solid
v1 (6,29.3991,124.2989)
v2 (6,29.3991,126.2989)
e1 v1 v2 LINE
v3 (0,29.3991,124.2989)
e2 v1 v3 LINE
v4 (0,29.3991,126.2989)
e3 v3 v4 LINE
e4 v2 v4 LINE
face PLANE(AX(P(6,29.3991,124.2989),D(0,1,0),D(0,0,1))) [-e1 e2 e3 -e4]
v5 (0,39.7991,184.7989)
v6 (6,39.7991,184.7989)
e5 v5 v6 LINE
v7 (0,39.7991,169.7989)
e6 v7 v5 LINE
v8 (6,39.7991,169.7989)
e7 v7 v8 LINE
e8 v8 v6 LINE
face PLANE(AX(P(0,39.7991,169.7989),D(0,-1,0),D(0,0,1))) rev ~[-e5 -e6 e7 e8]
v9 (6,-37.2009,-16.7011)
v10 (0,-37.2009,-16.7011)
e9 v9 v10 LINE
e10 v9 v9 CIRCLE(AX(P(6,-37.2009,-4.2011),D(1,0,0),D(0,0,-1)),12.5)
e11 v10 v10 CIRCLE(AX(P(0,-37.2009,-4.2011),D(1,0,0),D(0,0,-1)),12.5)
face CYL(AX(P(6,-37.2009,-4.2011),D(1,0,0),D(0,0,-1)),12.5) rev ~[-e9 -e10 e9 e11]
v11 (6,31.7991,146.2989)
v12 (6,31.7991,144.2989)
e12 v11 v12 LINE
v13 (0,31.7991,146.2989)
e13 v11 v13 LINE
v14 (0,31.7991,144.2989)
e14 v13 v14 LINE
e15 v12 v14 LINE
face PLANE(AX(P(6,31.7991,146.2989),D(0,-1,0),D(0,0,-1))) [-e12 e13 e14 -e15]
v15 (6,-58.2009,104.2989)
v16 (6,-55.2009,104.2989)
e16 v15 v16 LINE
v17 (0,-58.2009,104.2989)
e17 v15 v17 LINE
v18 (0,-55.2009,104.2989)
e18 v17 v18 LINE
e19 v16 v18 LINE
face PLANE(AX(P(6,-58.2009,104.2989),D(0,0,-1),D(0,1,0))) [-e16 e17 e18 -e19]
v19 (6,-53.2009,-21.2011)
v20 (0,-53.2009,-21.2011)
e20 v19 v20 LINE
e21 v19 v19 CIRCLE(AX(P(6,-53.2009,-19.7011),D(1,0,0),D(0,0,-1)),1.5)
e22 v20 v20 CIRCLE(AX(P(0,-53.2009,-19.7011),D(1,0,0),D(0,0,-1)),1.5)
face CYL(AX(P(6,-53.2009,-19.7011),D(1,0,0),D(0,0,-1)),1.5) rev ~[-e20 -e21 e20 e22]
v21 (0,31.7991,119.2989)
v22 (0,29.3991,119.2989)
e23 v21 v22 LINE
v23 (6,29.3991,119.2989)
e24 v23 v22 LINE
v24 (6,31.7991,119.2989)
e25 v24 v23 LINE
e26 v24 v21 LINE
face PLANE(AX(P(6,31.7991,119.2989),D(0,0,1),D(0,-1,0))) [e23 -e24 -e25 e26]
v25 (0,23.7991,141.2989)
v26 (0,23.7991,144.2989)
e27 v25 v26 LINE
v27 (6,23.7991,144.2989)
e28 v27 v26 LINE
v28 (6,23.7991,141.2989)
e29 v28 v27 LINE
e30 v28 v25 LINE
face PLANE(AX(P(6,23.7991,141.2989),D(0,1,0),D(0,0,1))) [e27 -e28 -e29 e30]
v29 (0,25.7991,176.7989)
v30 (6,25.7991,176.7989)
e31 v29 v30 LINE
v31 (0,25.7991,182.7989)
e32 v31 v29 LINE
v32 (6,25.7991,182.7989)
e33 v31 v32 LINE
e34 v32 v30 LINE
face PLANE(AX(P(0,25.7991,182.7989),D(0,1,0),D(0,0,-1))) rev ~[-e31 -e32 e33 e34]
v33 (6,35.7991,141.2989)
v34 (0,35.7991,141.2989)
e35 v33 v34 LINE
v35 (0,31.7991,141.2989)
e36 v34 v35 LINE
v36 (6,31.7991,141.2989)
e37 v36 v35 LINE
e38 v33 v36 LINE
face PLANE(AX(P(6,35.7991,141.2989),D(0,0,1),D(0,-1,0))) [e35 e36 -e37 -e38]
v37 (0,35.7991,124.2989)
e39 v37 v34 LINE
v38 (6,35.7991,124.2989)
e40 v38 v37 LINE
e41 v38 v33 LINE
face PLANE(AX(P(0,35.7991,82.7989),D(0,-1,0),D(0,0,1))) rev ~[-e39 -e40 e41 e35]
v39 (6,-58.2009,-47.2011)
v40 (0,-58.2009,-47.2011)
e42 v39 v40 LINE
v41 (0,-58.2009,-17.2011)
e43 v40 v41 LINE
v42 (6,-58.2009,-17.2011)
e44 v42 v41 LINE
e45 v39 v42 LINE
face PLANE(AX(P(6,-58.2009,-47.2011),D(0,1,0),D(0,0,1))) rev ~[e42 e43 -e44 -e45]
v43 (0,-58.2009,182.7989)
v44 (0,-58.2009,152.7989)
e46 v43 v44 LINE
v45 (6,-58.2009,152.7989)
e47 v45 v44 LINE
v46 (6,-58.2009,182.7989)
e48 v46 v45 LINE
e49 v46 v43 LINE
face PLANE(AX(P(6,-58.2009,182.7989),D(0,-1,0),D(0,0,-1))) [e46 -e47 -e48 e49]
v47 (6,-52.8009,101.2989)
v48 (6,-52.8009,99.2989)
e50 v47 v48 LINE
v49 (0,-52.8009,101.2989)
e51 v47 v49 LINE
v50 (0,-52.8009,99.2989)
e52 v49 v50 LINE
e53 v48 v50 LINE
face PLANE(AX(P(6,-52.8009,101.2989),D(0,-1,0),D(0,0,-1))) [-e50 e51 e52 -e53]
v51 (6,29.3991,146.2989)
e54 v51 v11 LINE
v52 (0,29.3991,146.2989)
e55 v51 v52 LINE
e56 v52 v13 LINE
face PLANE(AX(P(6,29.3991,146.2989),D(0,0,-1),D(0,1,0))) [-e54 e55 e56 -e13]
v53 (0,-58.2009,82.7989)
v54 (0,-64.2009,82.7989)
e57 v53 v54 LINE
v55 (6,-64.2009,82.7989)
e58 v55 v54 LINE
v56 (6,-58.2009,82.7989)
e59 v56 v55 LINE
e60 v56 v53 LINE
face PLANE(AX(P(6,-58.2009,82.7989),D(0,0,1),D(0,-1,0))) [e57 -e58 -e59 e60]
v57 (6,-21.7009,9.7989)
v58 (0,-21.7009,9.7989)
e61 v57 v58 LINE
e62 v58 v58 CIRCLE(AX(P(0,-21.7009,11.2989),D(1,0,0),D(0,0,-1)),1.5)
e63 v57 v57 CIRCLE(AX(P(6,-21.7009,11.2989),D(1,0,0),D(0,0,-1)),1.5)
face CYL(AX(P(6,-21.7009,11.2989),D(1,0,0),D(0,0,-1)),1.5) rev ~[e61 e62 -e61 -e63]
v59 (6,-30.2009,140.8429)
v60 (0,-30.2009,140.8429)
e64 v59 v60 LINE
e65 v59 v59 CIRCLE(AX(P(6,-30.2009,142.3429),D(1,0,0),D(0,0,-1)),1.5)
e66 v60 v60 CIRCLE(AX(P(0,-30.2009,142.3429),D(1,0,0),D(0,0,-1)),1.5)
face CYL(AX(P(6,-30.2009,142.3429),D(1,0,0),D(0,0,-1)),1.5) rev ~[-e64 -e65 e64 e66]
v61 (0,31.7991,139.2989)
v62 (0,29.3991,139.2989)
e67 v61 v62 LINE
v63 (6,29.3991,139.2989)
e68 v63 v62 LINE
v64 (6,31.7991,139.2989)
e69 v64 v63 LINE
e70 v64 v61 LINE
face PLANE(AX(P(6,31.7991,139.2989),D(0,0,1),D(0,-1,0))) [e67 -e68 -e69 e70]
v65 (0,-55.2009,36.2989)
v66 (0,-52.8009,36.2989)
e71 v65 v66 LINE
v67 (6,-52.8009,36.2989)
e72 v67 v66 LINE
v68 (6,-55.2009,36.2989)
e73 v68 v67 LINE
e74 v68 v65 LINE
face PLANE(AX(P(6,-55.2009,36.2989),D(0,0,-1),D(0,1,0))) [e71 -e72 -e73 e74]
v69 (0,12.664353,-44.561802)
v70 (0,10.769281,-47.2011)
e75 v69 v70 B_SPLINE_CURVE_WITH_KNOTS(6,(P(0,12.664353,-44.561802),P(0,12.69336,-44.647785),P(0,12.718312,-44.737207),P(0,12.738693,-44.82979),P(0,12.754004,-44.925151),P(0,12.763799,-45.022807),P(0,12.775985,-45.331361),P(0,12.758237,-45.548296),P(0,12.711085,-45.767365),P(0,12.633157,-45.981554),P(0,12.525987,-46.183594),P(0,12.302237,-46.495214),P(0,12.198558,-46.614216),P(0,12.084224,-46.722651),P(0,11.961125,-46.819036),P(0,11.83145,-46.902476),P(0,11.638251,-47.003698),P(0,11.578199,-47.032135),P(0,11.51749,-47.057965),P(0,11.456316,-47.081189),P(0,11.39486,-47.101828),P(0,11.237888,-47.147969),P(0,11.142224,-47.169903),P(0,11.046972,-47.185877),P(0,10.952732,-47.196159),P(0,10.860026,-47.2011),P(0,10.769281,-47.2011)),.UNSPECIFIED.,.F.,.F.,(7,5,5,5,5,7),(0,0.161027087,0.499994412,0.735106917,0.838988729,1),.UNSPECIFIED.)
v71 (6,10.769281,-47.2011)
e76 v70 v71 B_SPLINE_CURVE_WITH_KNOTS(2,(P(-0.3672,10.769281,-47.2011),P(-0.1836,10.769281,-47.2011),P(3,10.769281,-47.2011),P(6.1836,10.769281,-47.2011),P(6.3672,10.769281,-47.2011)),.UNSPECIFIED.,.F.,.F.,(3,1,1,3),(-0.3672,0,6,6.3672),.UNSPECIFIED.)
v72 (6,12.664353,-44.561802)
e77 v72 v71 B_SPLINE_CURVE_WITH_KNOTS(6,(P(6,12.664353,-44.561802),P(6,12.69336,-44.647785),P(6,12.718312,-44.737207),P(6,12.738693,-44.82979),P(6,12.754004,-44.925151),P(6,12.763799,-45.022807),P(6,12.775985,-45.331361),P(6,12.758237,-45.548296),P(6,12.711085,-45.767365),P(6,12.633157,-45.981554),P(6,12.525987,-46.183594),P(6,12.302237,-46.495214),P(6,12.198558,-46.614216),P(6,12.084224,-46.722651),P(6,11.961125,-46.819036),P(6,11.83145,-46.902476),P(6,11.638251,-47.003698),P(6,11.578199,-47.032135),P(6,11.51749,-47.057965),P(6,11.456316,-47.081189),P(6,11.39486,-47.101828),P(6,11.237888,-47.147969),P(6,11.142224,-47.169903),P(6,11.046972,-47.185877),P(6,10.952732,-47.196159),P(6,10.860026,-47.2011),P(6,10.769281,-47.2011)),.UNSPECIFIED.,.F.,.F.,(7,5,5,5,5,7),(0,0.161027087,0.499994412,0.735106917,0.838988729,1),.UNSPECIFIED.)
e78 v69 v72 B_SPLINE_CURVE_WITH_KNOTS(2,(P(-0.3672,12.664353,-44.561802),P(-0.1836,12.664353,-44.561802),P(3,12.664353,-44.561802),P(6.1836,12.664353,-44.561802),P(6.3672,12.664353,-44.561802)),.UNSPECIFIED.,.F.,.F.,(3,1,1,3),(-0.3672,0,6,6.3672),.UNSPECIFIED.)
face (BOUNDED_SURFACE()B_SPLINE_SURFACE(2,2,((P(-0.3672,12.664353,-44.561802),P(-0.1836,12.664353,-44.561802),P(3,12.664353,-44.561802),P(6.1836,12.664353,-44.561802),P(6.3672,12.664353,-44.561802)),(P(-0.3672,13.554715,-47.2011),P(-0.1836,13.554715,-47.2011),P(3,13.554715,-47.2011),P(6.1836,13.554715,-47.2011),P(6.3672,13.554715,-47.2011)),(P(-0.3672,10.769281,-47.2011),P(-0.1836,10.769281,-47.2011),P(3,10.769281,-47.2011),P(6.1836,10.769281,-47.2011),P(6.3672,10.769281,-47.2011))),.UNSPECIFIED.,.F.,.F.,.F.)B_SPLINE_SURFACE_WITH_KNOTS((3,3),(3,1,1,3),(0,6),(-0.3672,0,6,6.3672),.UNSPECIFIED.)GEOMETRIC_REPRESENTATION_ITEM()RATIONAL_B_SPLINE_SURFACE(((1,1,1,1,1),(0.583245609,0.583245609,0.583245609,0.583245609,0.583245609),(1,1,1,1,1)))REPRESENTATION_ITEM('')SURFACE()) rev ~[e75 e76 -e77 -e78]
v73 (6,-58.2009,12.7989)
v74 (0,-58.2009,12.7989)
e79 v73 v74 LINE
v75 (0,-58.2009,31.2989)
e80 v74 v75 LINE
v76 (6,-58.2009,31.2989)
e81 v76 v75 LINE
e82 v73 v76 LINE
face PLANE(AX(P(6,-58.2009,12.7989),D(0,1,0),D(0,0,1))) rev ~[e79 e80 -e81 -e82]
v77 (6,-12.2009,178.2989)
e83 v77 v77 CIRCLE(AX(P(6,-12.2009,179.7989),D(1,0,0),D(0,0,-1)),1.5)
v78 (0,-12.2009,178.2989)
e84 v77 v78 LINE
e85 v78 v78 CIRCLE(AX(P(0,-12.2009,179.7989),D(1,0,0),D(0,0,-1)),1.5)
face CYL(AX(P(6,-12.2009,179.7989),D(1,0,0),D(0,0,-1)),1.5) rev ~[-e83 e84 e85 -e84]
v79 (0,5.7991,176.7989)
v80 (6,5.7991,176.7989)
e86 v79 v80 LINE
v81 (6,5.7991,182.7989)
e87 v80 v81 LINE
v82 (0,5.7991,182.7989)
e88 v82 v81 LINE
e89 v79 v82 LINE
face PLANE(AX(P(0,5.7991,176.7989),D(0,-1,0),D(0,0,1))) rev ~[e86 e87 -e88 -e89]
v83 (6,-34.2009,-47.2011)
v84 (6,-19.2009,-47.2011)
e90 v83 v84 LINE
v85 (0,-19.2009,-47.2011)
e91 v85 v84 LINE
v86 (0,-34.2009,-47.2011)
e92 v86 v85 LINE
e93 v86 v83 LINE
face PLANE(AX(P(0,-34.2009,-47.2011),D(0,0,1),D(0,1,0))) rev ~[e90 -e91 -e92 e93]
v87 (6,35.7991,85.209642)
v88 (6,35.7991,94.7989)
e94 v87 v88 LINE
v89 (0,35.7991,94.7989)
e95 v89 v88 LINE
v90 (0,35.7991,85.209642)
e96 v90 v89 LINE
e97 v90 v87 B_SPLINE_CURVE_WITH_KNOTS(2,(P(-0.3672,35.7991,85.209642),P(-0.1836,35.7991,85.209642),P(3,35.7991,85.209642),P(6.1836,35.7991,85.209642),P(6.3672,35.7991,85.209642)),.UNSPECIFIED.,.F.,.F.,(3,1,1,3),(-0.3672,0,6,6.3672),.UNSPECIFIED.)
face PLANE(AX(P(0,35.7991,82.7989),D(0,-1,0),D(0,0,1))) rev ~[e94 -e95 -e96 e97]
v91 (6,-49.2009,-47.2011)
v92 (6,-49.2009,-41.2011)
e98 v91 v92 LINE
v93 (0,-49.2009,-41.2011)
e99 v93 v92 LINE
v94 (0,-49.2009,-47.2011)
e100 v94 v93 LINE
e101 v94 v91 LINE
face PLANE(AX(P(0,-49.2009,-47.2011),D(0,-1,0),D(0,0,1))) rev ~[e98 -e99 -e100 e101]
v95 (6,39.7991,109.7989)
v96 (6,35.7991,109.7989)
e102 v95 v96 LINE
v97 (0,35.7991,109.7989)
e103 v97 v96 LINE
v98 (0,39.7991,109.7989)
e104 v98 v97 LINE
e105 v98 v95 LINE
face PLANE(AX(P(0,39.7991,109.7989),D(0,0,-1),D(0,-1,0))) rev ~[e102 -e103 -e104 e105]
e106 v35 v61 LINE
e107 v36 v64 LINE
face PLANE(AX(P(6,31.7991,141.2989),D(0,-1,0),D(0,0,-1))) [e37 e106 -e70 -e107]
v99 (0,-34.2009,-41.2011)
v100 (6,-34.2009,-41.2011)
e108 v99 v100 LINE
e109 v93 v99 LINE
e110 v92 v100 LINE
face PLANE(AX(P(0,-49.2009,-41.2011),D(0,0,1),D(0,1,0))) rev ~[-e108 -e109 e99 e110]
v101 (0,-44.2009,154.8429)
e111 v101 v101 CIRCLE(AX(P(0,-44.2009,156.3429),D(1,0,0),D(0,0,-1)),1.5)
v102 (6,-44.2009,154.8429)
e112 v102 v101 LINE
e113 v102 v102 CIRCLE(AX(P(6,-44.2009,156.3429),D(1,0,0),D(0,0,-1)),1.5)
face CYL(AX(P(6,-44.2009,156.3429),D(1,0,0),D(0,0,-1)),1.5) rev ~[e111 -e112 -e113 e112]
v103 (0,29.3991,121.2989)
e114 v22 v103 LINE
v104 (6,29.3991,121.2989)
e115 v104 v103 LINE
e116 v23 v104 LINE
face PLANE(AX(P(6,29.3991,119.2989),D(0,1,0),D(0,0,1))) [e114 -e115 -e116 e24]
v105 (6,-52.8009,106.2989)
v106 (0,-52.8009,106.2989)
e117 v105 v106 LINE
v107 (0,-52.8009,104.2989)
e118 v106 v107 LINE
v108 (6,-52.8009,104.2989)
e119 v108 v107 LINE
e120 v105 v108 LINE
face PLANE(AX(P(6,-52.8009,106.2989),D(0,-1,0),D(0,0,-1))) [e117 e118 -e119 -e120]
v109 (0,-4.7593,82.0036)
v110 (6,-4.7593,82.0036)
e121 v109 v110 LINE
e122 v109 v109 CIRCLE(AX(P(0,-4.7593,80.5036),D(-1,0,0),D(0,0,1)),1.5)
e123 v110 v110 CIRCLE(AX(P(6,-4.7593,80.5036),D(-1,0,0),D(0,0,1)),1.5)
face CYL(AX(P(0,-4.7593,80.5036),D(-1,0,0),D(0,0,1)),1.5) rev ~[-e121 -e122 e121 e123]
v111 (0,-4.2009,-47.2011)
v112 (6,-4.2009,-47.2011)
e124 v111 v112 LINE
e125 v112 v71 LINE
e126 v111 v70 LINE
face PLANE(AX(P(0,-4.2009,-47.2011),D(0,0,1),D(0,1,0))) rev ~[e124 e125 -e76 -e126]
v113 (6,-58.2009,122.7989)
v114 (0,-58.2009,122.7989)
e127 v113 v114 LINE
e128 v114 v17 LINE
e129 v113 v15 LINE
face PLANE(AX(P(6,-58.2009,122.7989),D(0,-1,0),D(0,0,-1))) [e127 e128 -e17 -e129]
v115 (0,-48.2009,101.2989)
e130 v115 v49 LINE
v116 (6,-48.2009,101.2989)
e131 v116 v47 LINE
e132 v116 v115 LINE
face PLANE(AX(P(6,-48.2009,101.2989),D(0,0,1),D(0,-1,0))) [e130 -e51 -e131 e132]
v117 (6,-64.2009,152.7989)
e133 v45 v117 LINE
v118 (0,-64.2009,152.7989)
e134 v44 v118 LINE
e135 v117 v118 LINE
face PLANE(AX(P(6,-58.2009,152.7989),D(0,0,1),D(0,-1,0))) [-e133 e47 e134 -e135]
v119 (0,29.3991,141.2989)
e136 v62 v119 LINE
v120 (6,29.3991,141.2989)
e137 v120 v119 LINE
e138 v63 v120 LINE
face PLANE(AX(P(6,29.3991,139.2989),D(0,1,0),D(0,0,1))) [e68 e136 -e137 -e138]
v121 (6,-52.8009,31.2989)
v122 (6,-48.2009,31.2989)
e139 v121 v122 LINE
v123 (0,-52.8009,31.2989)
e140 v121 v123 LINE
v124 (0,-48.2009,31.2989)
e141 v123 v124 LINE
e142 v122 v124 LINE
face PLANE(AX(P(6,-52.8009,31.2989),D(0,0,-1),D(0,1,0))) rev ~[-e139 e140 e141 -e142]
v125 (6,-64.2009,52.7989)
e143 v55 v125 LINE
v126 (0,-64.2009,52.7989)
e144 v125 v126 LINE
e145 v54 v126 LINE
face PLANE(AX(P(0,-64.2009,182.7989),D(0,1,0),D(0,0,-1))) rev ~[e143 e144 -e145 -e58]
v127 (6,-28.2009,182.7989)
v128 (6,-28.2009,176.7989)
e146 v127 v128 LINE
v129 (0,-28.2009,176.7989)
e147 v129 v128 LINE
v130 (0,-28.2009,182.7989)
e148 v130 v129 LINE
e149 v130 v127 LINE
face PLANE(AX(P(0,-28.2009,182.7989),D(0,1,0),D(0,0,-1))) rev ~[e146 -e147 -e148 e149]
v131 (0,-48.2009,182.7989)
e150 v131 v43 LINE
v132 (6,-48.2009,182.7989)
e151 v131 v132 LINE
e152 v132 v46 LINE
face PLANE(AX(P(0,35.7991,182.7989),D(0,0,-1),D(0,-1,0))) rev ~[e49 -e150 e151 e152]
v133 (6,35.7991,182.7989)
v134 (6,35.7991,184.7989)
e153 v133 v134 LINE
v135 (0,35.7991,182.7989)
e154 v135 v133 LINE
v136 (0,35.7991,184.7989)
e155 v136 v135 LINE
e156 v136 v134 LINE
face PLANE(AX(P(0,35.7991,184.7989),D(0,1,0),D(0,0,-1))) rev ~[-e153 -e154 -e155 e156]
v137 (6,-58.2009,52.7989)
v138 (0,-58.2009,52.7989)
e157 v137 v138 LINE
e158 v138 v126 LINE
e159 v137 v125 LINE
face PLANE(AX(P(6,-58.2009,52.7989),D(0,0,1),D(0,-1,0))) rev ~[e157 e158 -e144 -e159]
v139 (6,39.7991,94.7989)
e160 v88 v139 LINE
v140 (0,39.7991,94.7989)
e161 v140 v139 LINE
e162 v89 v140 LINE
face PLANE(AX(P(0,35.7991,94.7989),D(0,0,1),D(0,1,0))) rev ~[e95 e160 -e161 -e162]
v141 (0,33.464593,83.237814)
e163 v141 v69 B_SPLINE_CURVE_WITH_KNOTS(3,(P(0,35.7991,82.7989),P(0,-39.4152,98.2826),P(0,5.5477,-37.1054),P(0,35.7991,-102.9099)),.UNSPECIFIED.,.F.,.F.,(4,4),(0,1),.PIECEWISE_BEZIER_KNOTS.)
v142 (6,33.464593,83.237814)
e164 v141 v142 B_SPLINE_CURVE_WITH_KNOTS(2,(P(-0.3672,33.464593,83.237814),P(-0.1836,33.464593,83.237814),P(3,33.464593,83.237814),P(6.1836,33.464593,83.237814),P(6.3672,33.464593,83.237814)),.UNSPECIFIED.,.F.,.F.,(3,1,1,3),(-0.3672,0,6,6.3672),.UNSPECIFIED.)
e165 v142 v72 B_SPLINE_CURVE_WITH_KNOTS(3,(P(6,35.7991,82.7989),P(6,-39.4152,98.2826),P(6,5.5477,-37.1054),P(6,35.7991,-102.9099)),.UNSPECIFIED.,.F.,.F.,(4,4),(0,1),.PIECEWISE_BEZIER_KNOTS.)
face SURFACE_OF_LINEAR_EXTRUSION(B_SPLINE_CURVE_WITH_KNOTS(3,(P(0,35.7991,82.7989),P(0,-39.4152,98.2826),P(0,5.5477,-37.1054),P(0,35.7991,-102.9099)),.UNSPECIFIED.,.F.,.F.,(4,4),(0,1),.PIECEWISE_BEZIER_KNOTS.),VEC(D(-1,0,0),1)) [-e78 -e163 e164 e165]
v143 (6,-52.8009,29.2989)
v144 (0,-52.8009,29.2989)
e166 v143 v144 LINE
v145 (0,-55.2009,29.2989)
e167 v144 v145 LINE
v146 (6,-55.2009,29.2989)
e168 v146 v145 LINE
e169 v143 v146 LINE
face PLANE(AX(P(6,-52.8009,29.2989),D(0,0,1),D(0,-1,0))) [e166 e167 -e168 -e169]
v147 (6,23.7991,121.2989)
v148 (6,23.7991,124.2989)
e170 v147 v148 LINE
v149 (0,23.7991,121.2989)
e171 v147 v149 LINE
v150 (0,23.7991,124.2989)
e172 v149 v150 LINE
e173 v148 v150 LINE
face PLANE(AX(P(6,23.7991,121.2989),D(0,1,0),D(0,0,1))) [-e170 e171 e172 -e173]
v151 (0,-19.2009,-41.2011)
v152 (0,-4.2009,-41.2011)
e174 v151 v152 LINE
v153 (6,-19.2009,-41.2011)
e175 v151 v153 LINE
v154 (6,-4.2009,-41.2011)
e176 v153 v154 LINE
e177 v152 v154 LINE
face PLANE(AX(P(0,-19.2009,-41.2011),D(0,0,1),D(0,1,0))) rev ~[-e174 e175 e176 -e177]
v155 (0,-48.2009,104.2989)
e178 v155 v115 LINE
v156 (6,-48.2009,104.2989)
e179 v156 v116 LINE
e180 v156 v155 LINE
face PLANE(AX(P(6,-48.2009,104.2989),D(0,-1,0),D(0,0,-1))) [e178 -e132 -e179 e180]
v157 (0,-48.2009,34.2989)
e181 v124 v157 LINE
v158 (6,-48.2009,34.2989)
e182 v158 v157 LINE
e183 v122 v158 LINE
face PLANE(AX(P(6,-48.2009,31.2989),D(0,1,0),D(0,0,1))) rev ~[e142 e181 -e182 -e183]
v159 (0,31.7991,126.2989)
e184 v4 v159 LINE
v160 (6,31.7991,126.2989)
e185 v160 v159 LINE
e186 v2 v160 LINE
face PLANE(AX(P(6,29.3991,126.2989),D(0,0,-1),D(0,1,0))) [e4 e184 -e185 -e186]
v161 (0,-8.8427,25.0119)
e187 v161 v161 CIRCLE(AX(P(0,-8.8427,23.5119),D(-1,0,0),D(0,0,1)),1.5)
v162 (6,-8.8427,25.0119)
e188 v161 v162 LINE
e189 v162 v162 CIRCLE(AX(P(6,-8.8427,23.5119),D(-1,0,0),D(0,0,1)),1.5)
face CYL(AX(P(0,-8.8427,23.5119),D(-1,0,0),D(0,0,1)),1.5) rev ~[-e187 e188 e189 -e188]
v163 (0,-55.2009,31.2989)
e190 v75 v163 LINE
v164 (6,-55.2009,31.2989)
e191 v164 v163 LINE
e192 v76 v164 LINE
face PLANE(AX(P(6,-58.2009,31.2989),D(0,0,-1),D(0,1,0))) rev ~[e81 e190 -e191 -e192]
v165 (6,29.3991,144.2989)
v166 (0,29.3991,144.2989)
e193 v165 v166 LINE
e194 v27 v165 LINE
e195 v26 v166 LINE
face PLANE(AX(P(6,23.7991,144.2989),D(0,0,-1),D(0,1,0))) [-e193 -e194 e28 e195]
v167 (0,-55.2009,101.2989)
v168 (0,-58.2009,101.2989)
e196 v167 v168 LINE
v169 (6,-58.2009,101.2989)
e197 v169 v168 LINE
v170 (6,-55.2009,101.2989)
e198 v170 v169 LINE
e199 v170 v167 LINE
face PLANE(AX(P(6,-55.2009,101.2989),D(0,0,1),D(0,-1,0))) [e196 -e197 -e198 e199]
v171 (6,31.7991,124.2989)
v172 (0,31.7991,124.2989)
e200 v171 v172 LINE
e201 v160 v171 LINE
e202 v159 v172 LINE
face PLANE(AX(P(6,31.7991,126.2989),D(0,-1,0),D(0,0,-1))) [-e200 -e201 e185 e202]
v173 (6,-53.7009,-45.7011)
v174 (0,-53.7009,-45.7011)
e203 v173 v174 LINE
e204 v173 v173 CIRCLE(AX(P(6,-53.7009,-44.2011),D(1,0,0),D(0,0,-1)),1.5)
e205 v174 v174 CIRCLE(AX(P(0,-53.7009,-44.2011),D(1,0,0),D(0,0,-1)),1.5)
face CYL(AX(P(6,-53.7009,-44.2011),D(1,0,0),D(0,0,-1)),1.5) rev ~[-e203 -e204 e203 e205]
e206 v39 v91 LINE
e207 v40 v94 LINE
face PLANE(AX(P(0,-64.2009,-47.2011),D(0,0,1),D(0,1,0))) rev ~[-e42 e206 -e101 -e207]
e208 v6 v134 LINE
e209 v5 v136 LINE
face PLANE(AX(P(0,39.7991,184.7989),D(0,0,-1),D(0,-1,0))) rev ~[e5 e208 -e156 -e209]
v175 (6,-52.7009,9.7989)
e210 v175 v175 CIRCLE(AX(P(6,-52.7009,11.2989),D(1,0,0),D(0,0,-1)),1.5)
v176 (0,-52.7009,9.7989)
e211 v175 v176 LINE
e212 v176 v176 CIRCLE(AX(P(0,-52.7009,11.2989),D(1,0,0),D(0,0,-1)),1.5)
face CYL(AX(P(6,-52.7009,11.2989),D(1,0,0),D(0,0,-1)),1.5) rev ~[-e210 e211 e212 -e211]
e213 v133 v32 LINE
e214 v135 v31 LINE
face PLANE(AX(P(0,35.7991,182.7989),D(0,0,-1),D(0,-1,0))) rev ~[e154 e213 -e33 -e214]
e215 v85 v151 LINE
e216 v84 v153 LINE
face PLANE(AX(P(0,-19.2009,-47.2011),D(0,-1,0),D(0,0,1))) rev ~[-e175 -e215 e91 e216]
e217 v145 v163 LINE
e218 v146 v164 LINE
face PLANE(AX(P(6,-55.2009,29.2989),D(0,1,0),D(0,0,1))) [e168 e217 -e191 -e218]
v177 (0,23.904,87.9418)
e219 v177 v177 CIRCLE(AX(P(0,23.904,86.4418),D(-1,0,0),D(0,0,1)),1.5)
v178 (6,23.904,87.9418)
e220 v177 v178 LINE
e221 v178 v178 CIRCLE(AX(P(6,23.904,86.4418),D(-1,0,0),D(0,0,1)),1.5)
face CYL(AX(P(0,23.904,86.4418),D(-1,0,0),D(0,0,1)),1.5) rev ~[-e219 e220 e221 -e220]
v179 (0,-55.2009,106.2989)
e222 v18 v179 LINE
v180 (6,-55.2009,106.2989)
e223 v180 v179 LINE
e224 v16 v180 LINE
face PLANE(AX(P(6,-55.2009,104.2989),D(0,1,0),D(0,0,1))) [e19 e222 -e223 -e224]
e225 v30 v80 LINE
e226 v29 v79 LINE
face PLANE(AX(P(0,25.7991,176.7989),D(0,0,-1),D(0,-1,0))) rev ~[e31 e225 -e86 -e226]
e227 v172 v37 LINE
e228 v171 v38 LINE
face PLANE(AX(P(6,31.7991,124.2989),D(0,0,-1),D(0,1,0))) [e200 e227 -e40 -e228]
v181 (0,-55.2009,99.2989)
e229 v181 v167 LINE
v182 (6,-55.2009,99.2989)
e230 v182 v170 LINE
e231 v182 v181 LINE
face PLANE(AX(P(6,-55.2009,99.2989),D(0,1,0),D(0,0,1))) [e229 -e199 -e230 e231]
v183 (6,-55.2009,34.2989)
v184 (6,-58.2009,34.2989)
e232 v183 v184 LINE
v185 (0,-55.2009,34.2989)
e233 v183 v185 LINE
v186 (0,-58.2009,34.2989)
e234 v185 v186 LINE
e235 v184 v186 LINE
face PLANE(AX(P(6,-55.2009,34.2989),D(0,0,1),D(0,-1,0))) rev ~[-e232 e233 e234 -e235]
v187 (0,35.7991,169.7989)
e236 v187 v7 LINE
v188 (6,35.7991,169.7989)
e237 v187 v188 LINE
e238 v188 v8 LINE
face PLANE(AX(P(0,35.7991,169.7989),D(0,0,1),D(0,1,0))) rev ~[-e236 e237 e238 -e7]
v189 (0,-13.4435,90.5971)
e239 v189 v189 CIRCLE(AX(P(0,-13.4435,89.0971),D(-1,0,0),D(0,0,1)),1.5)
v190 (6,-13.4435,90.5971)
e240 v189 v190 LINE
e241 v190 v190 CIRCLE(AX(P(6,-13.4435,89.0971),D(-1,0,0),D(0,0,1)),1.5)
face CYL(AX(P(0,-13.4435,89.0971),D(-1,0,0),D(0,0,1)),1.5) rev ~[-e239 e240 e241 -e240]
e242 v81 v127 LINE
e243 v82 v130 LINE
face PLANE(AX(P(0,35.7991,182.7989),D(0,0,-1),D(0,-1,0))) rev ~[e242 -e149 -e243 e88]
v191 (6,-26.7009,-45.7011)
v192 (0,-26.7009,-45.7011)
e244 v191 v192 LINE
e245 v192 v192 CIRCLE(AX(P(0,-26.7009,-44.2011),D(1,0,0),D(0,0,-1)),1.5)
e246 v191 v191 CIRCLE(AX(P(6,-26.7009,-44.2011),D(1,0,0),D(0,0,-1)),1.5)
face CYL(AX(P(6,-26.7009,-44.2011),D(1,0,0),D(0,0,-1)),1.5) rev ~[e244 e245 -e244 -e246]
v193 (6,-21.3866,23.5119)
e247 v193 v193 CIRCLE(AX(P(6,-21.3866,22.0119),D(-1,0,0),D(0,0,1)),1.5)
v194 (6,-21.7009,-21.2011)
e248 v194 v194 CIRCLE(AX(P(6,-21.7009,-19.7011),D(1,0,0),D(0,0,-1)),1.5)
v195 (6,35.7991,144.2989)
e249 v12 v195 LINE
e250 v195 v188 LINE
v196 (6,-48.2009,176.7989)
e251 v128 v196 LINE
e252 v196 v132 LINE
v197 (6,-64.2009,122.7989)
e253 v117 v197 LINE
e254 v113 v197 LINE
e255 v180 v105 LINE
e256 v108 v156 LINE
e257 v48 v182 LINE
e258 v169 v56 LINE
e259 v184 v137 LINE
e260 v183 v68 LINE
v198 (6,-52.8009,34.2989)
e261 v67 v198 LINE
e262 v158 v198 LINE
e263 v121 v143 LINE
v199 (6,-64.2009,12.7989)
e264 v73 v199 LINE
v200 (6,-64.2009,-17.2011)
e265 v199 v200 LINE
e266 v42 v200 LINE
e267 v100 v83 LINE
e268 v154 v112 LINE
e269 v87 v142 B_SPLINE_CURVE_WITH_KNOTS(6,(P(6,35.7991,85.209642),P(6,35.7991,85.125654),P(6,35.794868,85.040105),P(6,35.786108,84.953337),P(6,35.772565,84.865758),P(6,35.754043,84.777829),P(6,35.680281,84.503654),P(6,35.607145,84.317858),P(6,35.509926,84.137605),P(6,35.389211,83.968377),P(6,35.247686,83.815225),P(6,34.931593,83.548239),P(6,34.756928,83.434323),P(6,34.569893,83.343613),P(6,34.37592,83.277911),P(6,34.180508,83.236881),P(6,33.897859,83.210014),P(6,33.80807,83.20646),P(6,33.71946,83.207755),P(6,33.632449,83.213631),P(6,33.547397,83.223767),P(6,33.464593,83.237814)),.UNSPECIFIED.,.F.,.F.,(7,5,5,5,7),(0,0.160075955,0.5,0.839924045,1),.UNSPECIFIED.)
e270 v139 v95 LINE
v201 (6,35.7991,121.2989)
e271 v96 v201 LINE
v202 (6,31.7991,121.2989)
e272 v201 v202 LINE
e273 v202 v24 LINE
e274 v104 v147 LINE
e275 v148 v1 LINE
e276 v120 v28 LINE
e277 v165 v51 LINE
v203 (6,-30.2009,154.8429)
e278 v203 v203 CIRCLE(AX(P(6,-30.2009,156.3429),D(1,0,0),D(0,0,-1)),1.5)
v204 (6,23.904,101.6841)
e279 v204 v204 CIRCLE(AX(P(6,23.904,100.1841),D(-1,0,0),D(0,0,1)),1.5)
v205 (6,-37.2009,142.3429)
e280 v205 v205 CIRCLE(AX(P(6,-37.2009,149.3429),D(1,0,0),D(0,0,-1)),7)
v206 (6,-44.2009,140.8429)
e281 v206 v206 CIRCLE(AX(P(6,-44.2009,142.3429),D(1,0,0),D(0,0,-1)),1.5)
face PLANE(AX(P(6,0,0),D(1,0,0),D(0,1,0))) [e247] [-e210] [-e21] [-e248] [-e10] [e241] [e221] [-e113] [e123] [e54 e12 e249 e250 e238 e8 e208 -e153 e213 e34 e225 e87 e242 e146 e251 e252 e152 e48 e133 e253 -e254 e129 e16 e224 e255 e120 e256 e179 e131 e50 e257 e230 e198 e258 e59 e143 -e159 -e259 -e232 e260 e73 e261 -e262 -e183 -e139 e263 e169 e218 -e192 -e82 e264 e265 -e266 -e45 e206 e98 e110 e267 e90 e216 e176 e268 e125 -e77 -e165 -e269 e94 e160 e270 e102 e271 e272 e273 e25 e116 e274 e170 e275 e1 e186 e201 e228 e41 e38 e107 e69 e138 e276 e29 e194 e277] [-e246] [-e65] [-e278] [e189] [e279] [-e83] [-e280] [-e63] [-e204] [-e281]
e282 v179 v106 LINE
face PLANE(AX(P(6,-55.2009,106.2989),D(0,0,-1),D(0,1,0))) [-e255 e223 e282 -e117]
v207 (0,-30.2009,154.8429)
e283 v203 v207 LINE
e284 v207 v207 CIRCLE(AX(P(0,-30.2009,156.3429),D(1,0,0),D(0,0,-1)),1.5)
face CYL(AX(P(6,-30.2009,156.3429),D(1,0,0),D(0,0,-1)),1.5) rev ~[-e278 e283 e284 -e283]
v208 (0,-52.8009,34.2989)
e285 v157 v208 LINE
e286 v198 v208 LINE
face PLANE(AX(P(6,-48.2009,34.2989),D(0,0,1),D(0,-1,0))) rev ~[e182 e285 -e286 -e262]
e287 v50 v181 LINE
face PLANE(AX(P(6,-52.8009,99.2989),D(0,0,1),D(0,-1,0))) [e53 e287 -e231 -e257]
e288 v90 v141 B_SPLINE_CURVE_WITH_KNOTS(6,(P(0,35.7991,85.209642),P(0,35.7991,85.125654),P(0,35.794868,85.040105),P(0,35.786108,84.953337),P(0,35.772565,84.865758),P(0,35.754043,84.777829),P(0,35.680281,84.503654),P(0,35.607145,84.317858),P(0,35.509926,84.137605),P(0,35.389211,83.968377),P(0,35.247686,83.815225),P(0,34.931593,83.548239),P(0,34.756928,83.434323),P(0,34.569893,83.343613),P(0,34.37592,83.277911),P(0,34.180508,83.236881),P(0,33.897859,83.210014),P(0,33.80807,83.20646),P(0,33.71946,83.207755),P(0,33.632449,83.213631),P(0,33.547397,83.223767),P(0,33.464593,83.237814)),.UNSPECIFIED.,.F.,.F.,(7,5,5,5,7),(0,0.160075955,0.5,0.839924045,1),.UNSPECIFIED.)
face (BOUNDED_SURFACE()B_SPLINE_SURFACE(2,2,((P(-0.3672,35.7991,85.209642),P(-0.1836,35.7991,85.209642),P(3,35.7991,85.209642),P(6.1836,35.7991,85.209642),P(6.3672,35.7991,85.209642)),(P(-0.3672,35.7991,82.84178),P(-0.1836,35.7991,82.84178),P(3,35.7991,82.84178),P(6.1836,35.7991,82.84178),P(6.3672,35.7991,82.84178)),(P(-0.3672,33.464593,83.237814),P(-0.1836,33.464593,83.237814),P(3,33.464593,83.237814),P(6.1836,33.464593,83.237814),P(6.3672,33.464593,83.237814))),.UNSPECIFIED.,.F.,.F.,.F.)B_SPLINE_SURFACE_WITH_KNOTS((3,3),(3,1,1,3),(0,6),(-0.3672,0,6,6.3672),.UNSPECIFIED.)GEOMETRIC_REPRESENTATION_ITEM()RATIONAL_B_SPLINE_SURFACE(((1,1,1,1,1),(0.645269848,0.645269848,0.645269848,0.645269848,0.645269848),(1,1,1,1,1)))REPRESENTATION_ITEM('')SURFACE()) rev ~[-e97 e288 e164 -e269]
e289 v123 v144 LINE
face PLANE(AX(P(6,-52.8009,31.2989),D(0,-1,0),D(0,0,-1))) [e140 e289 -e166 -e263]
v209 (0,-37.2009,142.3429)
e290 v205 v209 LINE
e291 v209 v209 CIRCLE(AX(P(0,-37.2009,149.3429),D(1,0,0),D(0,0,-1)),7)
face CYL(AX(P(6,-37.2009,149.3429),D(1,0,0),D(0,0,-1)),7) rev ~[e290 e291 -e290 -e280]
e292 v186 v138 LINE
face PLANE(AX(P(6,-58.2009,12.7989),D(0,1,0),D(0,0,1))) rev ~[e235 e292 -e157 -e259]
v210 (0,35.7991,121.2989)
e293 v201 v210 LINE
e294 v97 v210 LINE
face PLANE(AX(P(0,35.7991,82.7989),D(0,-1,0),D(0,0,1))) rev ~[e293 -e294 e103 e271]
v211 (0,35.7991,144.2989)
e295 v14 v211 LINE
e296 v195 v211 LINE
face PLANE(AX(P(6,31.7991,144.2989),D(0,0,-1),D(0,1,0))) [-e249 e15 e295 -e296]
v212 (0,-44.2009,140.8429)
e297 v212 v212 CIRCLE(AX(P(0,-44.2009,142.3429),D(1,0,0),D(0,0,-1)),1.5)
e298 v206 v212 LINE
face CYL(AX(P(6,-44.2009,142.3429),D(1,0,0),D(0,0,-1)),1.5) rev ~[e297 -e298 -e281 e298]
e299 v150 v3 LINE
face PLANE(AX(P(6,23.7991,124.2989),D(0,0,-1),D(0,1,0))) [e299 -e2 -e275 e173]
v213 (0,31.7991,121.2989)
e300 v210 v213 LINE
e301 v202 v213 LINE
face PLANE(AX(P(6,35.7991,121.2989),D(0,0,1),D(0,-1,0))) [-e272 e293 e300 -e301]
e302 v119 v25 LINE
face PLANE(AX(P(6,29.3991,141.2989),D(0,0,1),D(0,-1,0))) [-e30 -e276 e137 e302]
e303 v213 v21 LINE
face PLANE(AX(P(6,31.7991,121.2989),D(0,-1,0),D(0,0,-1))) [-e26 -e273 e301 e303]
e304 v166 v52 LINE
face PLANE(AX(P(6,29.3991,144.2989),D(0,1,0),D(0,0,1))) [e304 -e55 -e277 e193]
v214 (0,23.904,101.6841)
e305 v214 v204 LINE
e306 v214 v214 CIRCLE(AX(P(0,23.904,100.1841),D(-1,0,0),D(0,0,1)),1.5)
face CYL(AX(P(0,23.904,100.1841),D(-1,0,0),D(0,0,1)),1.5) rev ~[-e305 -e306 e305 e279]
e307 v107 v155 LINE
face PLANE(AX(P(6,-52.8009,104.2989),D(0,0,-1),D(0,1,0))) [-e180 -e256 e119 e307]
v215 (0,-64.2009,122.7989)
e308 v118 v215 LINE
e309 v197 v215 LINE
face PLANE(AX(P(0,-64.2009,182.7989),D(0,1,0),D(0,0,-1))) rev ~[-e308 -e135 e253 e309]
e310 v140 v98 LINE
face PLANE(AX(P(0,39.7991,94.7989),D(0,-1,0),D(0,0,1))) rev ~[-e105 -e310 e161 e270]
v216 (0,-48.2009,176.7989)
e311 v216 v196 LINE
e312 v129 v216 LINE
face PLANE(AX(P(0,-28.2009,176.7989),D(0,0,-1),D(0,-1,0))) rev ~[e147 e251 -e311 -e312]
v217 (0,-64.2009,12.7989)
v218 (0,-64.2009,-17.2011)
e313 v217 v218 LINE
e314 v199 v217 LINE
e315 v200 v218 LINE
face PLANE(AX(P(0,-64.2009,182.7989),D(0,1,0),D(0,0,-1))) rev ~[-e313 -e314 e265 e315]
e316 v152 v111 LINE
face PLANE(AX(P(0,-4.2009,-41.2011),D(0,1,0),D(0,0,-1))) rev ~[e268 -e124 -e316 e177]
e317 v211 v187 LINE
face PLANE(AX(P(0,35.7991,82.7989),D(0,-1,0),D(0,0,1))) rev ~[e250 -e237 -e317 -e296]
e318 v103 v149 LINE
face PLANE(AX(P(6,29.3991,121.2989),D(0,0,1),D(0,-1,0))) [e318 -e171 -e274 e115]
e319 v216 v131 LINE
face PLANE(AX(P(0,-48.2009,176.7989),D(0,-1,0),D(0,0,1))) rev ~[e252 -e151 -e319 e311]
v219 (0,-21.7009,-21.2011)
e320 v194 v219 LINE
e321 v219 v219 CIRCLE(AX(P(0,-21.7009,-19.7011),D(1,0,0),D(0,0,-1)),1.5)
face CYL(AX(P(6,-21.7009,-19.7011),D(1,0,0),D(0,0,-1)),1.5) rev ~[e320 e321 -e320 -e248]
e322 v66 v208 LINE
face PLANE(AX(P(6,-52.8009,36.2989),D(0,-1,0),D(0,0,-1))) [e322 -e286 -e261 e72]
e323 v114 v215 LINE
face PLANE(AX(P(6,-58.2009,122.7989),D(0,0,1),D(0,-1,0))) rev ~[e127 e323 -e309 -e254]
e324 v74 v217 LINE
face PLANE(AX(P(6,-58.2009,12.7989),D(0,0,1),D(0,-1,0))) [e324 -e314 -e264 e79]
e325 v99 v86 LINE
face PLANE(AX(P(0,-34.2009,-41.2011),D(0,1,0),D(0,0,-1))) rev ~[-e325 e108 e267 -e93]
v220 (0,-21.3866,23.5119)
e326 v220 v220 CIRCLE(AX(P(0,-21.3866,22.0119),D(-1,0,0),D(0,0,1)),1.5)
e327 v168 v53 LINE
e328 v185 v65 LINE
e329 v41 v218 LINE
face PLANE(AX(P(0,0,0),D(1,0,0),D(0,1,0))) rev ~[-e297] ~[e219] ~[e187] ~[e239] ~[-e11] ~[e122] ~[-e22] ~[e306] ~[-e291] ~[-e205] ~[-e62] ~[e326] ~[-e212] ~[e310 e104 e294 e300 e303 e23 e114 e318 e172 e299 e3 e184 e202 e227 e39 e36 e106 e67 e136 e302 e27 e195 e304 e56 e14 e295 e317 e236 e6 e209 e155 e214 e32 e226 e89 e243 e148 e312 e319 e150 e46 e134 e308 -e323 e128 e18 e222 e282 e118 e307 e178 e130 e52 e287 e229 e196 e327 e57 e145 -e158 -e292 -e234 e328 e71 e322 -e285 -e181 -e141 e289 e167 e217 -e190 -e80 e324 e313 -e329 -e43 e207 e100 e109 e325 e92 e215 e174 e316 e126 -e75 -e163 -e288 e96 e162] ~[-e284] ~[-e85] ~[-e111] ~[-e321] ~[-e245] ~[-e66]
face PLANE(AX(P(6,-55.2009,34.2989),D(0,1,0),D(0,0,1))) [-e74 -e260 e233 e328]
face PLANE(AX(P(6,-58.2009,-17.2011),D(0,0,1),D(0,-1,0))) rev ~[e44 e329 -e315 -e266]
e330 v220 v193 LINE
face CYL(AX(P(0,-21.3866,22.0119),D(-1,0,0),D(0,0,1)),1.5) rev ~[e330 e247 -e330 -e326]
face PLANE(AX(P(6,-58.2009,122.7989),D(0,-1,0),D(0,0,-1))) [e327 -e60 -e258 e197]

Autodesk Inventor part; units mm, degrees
ref_plane "YZ Plane" through (0, 0, 0) normal (1, 0, 0) x (0, 1, 0)
ref_plane "XZ Plane" through (0, 0, 0) normal (0, 1, 0) x (-1, 0, 0)
ref_plane "XY Plane" through (0, 0, 0) normal (0, 0, 1) x (1, 0, 0)
sketch "Эскиз1" plane through (0, 0, 0) normal (1, 0, 0) x (0, 1, 0)
  line L0 (35.7991, 182.7989) -> (-64.2009, 182.7989)
  line L1 (-64.2009, 182.7989) -> (-64.2009, -47.2011)
  line L2 (-64.2009, -47.2011) -> (35.7991, -47.2011)
  line L3 (35.7991, -47.2011) -> (35.7991, 182.7989)
  spline S0 degree 3 poles (35.7991, 82.7989) (-39.4152, 98.2826) (5.5477, -37.1054) (35.7991, -102.9099) knots 0 0 0 0 1 1 1 1
  line L4 (-4.2009, -47.2011) -> (-19.2009, -47.2011)
  line L5 (-19.2009, -47.2011) -> (-19.2009, -41.2011)
  line L6 (-19.2009, -41.2011) -> (-4.2009, -41.2011)
  line L7 (-4.2009, -41.2011) -> (-4.2009, -47.2011)
  line L8 (-34.2009, -47.2011) -> (-49.2009, -47.2011)
  line L9 (-49.2009, -47.2011) -> (-49.2009, -41.2011)
  line L10 (-49.2009, -41.2011) -> (-34.2009, -41.2011)
  line L11 (-34.2009, -41.2011) -> (-34.2009, -47.2011)
  point P0 (0, 0)
  point P1 (0.0412, 70.0052)
  point P2 (13.562, -47.2011)
  point P3 (-4.2009, -44.2011)
  point P4 (-19.2009, -44.2011)
  point P5 (-34.2009, -44.2011)
  point P6 (-49.2009, -44.2011)
  dimension "d0" = 230
  dimension "d1" = 100
  dimension "d20" = 100
  dimension "d155" = 15
  dimension "d156" = 15
  dimension "d157" = 6
  dimension "d158" = 15
  dimension "d159" = 15
extrude "Выдавливание1" add sketch "Эскиз1" along normal blind 6 contours L3 S0 L2 L7 L6 L5 L11 L10 L9 L1 L0
sketch "Эскиз2" plane through (6, 0, 0) normal (1, 0, 0) x (0, 0, -1)
  line L0 (-182.7989, 35.7991) -> (-182.7989, -64.2009) projected
  line L1 (-182.7989, -64.2009) -> (47.2011, -64.2009) projected
  line L2 (-182.7989, -58.2009) -> (-152.7989, -58.2009)
  line L3 (-152.7989, -58.2009) -> (-152.7989, -64.2009)
  line L4 (-152.7989, -64.2009) -> (-182.7989, -64.2009)
  line L5 (-182.7989, -64.2009) -> (-182.7989, -58.2009)
  line L6 (-152.7989, -58.2009) -> (-122.7989, -58.2009)
  line L7 (-122.7989, -58.2009) -> (-122.7989, -64.2009)
  line L8 (-122.7989, -64.2009) -> (-152.7989, -64.2009)
  line L9 (-152.7989, -64.2009) -> (-152.7989, -58.2009)
  line L10 (-122.7989, -58.2009) -> (-82.7989, -58.2009)
  line L11 (-82.7989, -58.2009) -> (-82.7989, -64.2009)
  line L12 (-82.7989, -64.2009) -> (-122.7989, -64.2009)
  line L13 (-122.7989, -64.2009) -> (-122.7989, -58.2009)
  line L14 (47.2011, -64.2009) -> (47.2011, 13.562) projected
  line L15 (47.2011, -58.2009) -> (17.2011, -58.2009)
  line L16 (17.2011, -58.2009) -> (17.2011, -64.2009)
  line L17 (17.2011, -64.2009) -> (47.2011, -64.2009)
  line L18 (47.2011, -64.2009) -> (47.2011, -58.2009)
  line L19 (17.2011, -58.2009) -> (-12.7989, -58.2009)
  line L20 (-12.7989, -58.2009) -> (-12.7989, -64.2009)
  line L21 (-12.7989, -64.2009) -> (17.2011, -64.2009)
  line L22 (17.2011, -64.2009) -> (17.2011, -58.2009)
  line L23 (-12.7989, -58.2009) -> (-52.7989, -58.2009)
  line L24 (-52.7989, -58.2009) -> (-52.7989, -64.2009)
  line L25 (-52.7989, -64.2009) -> (-12.7989, -64.2009)
  line L26 (-12.7989, -64.2009) -> (-12.7989, -58.2009)
  line L27 (-52.7989, -58.2009) -> (-82.7989, -58.2009)
  line L28 (-82.7989, -58.2009) -> (-82.7989, -64.2009)
  line L29 (-82.7989, -64.2009) -> (-52.7989, -64.2009)
  line L30 (-52.7989, -64.2009) -> (-52.7989, -58.2009)
  point P0 (0, 0)
  point P1 (47.89, 35.7991)
  point P2 (-122.7989, -64.2009)
  point P3 (47.2011, 13.562)
  dimension "d4" = 30
  dimension "d5" = 30
  dimension "d6" = 40
  dimension "d7" = 30
  dimension "d8" = 30
  dimension "d9" = 40
  dimension "d12" = 6
  dimension "d13" = 6
extrude "Выдавливание2" cut sketch "Эскиз2" against normal through all contours L2 L3 L1 L0 | L10 L11 L1 L7 | L23 L20 L1 L24 | L15 L14 L1 L16
sketch "Эскиз3" plane through (0, 0, 0) normal (-1, 0, 0) x (0, 0, 1)
  line L0 (182.7989, -58.2009) -> (176.7989, -58.2009)
  line L1 (176.7989, -58.2009) -> (176.7989, -48.2009)
  line L2 (176.7989, -48.2009) -> (182.7989, -48.2009)
  line L3 (182.7989, -48.2009) -> (182.7989, -58.2009)
  line L4 (176.7989, -48.2009) -> (182.7989, -48.2009)
  line L5 (182.7989, -48.2009) -> (182.7989, -28.2009)
  line L6 (182.7989, -28.2009) -> (176.7989, -28.2009)
  line L7 (176.7989, -28.2009) -> (176.7989, -48.2009)
  line L8 (182.7989, -28.2009) -> (176.7989, -28.2009)
  line L9 (176.7989, -28.2009) -> (176.7989, 5.7991)
  line L10 (176.7989, 5.7991) -> (182.7989, 5.7991)
  line L11 (182.7989, 5.7991) -> (182.7989, -28.2009)
  line L12 (176.7989, 5.7991) -> (182.7989, 5.7991)
  line L13 (182.7989, 5.7991) -> (182.7989, 25.7991)
  line L14 (182.7989, 25.7991) -> (176.7989, 25.7991)
  line L15 (176.7989, 25.7991) -> (176.7989, 5.7991)
  line L16 (182.7989, 35.7991) -> (182.7989, -58.2009) projected
  line L17 (176.7989, 25.7991) -> (182.7989, 25.7991)
  line L18 (182.7989, 25.7991) -> (182.7989, 35.7991)
  line L19 (182.7989, 35.7991) -> (176.7989, 35.7991)
  line L20 (176.7989, 35.7991) -> (176.7989, 25.7991)
  point P0 (0, 0)
  dimension "d14" = 10
  dimension "d15" = 10
  dimension "d16" = 20
  dimension "d17" = 20
  dimension "d106" = 6
extrude "Выдавливание3" cut sketch "Эскиз3" against normal blind 6 contours L2 L7 L6 L5 | L10 L15 L14 L13
sketch "Эскиз4" plane through (6, 0, 0) normal (1, 0, 0) x (0, 0, -1)
  line L0 (-16.7989, -58.2009) -> (25.2011, -58.2009)
  line L1 (25.2011, -58.2009) -> (25.2011, -50.2009)
  line L2 (25.2011, -50.2009) -> (-16.7989, -50.2009)
  line L3 (-16.7989, -50.2009) -> (-16.7989, -58.2009)
  line L4 (25.2011, -58.2009) -> (17.2011, -58.2009)
  line L5 (17.2011, -58.2009) -> (17.2011, -16.2009)
  line L6 (17.2011, -16.2009) -> (25.2011, -16.2009)
  line L7 (25.2011, -16.2009) -> (25.2011, -58.2009)
  line L8 (25.2011, -16.2009) -> (-16.7989, -16.2009)
  line L9 (-16.7989, -16.2009) -> (-16.7989, -24.2009)
  line L10 (-16.7989, -24.2009) -> (25.2011, -24.2009)
  line L11 (25.2011, -24.2009) -> (25.2011, -16.2009)
  line L12 (-16.7989, -16.2009) -> (-8.7989, -16.2009)
  line L13 (-8.7989, -16.2009) -> (-8.7989, -58.2009)
  line L14 (-8.7989, -58.2009) -> (-16.7989, -58.2009)
  line L15 (-16.7989, -58.2009) -> (-16.7989, -16.2009)
  line L16 (-16.7989, -45.8935) -> (-16.7989, -53.8935)
  circle A0 centre (-11.2989, -21.7009) radius 1.5
  circle A1 centre (19.7011, -21.7009) radius 1.5
  circle A2 centre (19.7011, -53.2009) radius 1.5
  circle A3 centre (-11.2989, -52.7009) radius 1.5
  circle A4 centre (4.2011, -37.2009) radius 12.5
  line L17 (-182.7989, -58.2009) -> (-152.7989, -58.2009) projected
  line L18 (-176.7989, -28.2009) -> (-176.7989, -48.2009) projected
  circle A5 centre (-149.3429, -37.2009) radius 7
  circle A6 centre (-156.3429, -30.2009) radius 1.5
  circle A7 centre (-142.3429, -30.2009) radius 1.5
  circle A8 centre (-142.3429, -44.2009) radius 1.5
  circle A9 centre (-156.3429, -44.2009) radius 1.5
  line L19 (-142.3429, -30.2009) -> (-142.3429, -44.2009) construction
  line L20 (-142.3429, -44.2009) -> (-156.3429, -44.2009) construction
  line L21 (-156.3429, -30.2009) -> (-156.3429, -44.2009) construction
  line L22 (-156.3429, -30.2009) -> (-142.3429, -30.2009) construction
  line L23 (-67.7989, 21.7334) -> (-67.7989, -91.6472) construction
  line L24 (47.2011, -58.2009) -> (47.2011, 13.562) construction
  line L25 (-152.7989, -64.2009) -> (-122.7989, -64.2009) projected
  point P0 (0, 0)
  point P1 (4.2011, -58.2009)
  point P2 (-176.8137, 14.1065)
  point P3 (-16.7989, -53.8935)
  point P4 (-16.7989, -45.8935)
  point P5 (4.035, -43.7767)
  point P6 (21.9204, -26.629)
  dimension "d21" = 42
  dimension "d22" = 42
  dimension "d23" = 8
  dimension "d24" = 8
  dimension "d25" = 8
  dimension "d26" = 8
  dimension "d27" = 3
  dimension "d28" = 3
  dimension "d29" = 3
  dimension "d30" = 3
  dimension "d31" = 5.5
  dimension "d32" = 5.5
  dimension "d33" = 5.5
  dimension "d34" = 5.5
  dimension "d35" = 5.5
  dimension "d36" = 5.5
  dimension "d37" = 5.5
  dimension "d38" = 21
  dimension "d39" = 21
  dimension "d40" = 25
  dimension "d41" = 3
  dimension "d42" = 160
  dimension "d45" = 14
  dimension "d46" = 3
  dimension "d47" = 3
  dimension "d48" = 3
  dimension "d49" = 3
  dimension "d83" = 115
  dimension "d84" = 27
extrude "Выдавливание4" cut sketch "Эскиз4" against normal blind 6 contours A0 | A1 | A2 | A3 | A4 | A5 | A6 | A7 | A8 | A9
sketch "Эскиз5" plane through (6, 0, 0) normal (1, 0, 0) x (0, 0, -1)
  line L0 (-82.7989, 35.7991) -> (-182.7989, 35.7991) projected
  line L1 (-144.2989, 35.7991) -> (-141.2989, 35.7991)
  line L2 (-141.2989, 35.7991) -> (-141.2989, 23.7991)
  line L3 (-141.2989, 23.7991) -> (-144.2989, 23.7991)
  line L4 (-144.2989, 23.7991) -> (-144.2989, 35.7991)
  line L5 (-139.2989, 29.3991) -> (-146.2989, 29.3991)
  line L6 (-146.2989, 29.3991) -> (-146.2989, 31.7991)
  line L7 (-146.2989, 31.7991) -> (-139.2989, 31.7991)
  line L8 (-139.2989, 31.7991) -> (-139.2989, 29.3991)
  line L9 (-182.7989, 35.7991) -> (-182.7989, 25.7991) projected
  line L10 (-124.2989, 35.7991) -> (-121.2989, 35.7991)
  line L11 (-121.2989, 35.7991) -> (-121.2989, 23.7991)
  line L12 (-121.2989, 23.7991) -> (-124.2989, 23.7991)
  line L13 (-124.2989, 23.7991) -> (-124.2989, 35.7991)
  line L14 (-119.2989, 29.3991) -> (-126.2989, 29.3991)
  line L15 (-126.2989, 29.3991) -> (-126.2989, 31.7991)
  line L16 (-126.2989, 31.7991) -> (-119.2989, 31.7991)
  line L17 (-119.2989, 31.7991) -> (-119.2989, 29.3991)
  line L18 (-82.7989, 35.7991) -> (-182.7989, 35.7991) projected
  point P0 (0, 0)
  point P1 (-146.2989, 30.5991)
  point P2 (-126.2989, 30.5991)
  point P3 (-121.2989, 29.3991)
  point P4 (-121.2989, 31.7991)
  point P5 (-124.2989, 31.7991)
  point P6 (-124.2989, 29.3991)
  point P7 (-141.2989, 31.7991)
  point P8 (-141.2989, 35.7991)
  point P9 (-144.2989, 31.7991)
  point P10 (-144.2989, 29.3991)
  point P11 (-141.2989, 29.3991)
  point P12 (-182.7989, 30.7991)
  dimension "d50" = 3
  dimension "d51" = 2.4
  dimension "d52" = 7
  dimension "d53" = 2
  dimension "d54" = 12
  dimension "d55" = 4
  dimension "d57" = 3
  dimension "d58" = 2.4
  dimension "d59" = 7
  dimension "d60" = 2
  dimension "d61" = 12
  dimension "d63" = 38.5
  dimension "d66" = 38.5
extrude "Выдавливание5" cut sketch "Эскиз5" against normal through all
sketch "Эскиз6" plane through (6, 0, 0) normal (1, 0, 0) x (0, 0, -1)
  line L0 (-101.2989, -58.2009) -> (-104.2989, -58.2009)
  line L1 (-104.2989, -58.2009) -> (-104.2989, -48.2009)
  line L2 (-104.2989, -48.2009) -> (-101.2989, -48.2009)
  line L3 (-101.2989, -48.2009) -> (-101.2989, -58.2009)
  line L4 (-106.2989, -52.8009) -> (-99.2989, -52.8009)
  line L5 (-99.2989, -52.8009) -> (-99.2989, -55.2009)
  line L6 (-99.2989, -55.2009) -> (-106.2989, -55.2009)
  line L7 (-106.2989, -55.2009) -> (-106.2989, -52.8009)
  line L8 (-52.7989, -58.2009) -> (-12.7989, -58.2009) projected
  line L9 (-34.2989, -58.2009) -> (-31.2989, -58.2009)
  line L10 (-31.2989, -58.2009) -> (-31.2989, -48.2009)
  line L11 (-31.2989, -48.2009) -> (-34.2989, -48.2009)
  line L12 (-34.2989, -48.2009) -> (-34.2989, -58.2009)
  line L13 (-36.2989, -52.8009) -> (-29.2989, -52.8009)
  line L14 (-29.2989, -52.8009) -> (-29.2989, -55.2009)
  line L15 (-29.2989, -55.2009) -> (-36.2989, -55.2009)
  line L16 (-36.2989, -55.2009) -> (-36.2989, -52.8009)
  line L17 (-122.7989, -58.2009) -> (-82.7989, -58.2009) projected
  line L18 (-122.7989, -64.2009) -> (-122.7989, -58.2009) projected
  line L19 (-52.7989, -64.2009) -> (-52.7989, -58.2009) projected
  point P0 (0, 0)
  point P1 (-122.7989, -61.2009)
  point P2 (-29.2989, -54.0009)
  point P3 (-32.7989, -58.2009)
  point P4 (-34.2989, -55.2009)
  point P5 (-31.2989, -55.2009)
  point P6 (-31.2989, -52.8009)
  point P7 (-34.2989, -52.8009)
  point P8 (-104.2989, -55.2009)
  point P9 (-101.2989, -55.2009)
  point P10 (-101.2989, -52.8009)
  point P11 (-104.2989, -52.8009)
  dimension "d67" = 10
  dimension "d68" = 2.4
  dimension "d69" = 3
  dimension "d70" = 7
  dimension "d71" = 3
  dimension "d72" = 2
  dimension "d73" = 18.5
  dimension "d74" = 3
  dimension "d75" = 10
  dimension "d76" = 2.4
  dimension "d77" = 7
  dimension "d78" = 2
  dimension "d79" = 3
  dimension "d80" = 18.5
extrude "Выдавливание6" cut sketch "Эскиз6" against normal through all
sketch "Эскиз7" plane through (6, 0, 0) normal (1, 0, 0) x (0, 0, -1)
  line L0 (-182.7989, 35.7991) -> (-214.7989, 35.7991)
  line L1 (-214.7989, 35.7991) -> (-214.7989, -58.2009)
  line L2 (-214.7989, -58.2009) -> (-182.7989, -58.2009)
  line L3 (-182.7989, -58.2009) -> (-182.7989, 35.7991)
  line L4 (-182.7989, -58.2009) -> (-152.7989, -58.2009) projected
  line L5 (-182.7989, -48.2009) -> (-182.7989, -58.2009) projected
  line L6 (-144.2989, 35.7991) -> (-182.7989, 35.7991) projected
  point P0 (0, 0)
  dimension "d85" = 32
extrude "Выдавливание7" [suppressed]
sketch "Эскиз8" plane through (6, 0, 0) normal (1, 0, 0) x (0, 0, -1)
  circle A0 centre (-212.7989, -19.2009) radius 1.5
  circle A1 centre (-186.7989, -19.2009) radius 1.5
  circle A2 centre (-186.7989, -45.2009) radius 1.5
  circle A3 centre (-212.7989, -45.2009) radius 1.5
  line L0 (-182.7989, 5.7991) -> (-182.7989, 25.7991) projected
  line L1 (-144.2989, 35.7991) -> (-182.7989, 35.7991) projected
  line L2 (-214.7989, -58.2009) -> (-152.7989, -58.2009) projected
  circle A4 centre (-199.7989, -32.2009) radius 7
  point P0 (0, 0)
  point P1 (-214.7989, 35.7991)
  dimension "d92" = 3
  dimension "d93" = 26
  dimension "d98" = 4
  dimension "d99" = 4
  dimension "d104" = 13
  dimension "d105" = 13
  dimension "d116" = 14
  dimension "d139" = 13
  dimension "d140" = 13
  dimension "d141" = 13
  dimension "d142" = 13
  dimension "d143" = 13
extrude "Выдавливание8" cut sketch "Эскиз8" against normal through all
sketch "Эскиз9" plane through (0, 0, 0) normal (-1, 0, 0) x (0, 0, 1)
  line L0 (144.2989, 35.7991) -> (182.7989, 35.7991) projected
  line L1 (188.2989, 35.7991) -> (191.2989, 35.7991)
  line L2 (191.2989, 35.7991) -> (191.2989, 25.7991)
  line L3 (191.2989, 25.7991) -> (188.2989, 25.7991)
  line L4 (188.2989, 25.7991) -> (188.2989, 35.7991)
  line L5 (193.2989, 31.3991) -> (186.2989, 31.3991)
  line L6 (186.2989, 31.3991) -> (186.2989, 33.7991)
  line L7 (186.2989, 33.7991) -> (193.2989, 33.7991)
  line L8 (193.2989, 33.7991) -> (193.2989, 31.3991)
  line L9 (214.7989, -58.2009) -> (214.7989, 35.7991) projected
  point P0 (0, 0)
  point P1 (188.2989, 31.3991)
  point P2 (191.2989, 31.3991)
  point P3 (191.2989, 33.7991)
  point P4 (188.2989, 33.7991)
  dimension "d107" = 3
  dimension "d108" = 23.5
  dimension "d109" = 7
  dimension "d110" = 2
  dimension "d111" = 10
  dimension "d112" = 2.4
  dimension "d113" = 2
extrude "Выдавливание9" cut sketch "Эскиз9" against normal blind 10
fillet "Сопряжение1" radius 2 2 edges at (3, 35.7991, 82.7989) (3, 13.562, -47.2011)
sketch "Эскиз11" plane through (0, 0, 0) normal (-1, 0, 0) x (0, 0, 1)
  circle A0 centre (100.1841, 23.904) radius 1.5
  circle A1 centre (89.0971, -13.4435) radius 1.5
  circle A2 centre (23.5119, -8.8427) radius 1.5
  circle A3 centre (86.4418, 23.904) radius 1.5
  circle A4 centre (80.5036, -4.7593) radius 1.5
  circle A5 centre (22.0119, -21.3866) radius 1.5
  point P0 (0, 0)
  dimension "d134" = 3
  dimension "d135" = 3
  dimension "d136" = 3
  dimension "d144" = 3
  dimension "d145" = 3
  dimension "d146" = 3
extrude "Выдавливание11" cut sketch "Эскиз11" against normal blind 10
sketch "Эскиз12" plane through (0, 0, 0) normal (-1, 0, 0) x (0, 0, 1)
  line L0 (144.2989, 35.7991) -> (182.7989, 35.7991) projected
  line L1 (184.7989, 35.7991) -> (169.7989, 35.7991)
  line L2 (169.7989, 35.7991) -> (169.7989, 39.7991)
  line L3 (169.7989, 39.7991) -> (184.7989, 39.7991)
  line L4 (184.7989, 39.7991) -> (184.7989, 35.7991)
  line L5 (214.7989, -58.2009) -> (214.7989, 35.7991) projected
  line L6 (109.7989, 35.7991) -> (94.7989, 35.7991)
  line L7 (94.7989, 35.7991) -> (94.7989, 39.7991)
  line L8 (94.7989, 39.7991) -> (109.7989, 39.7991)
  line L9 (109.7989, 39.7991) -> (109.7989, 35.7991)
  line L10 (214.7989, 35.7991) -> (84.7989, 35.7991) projected
  line L11 (85.2096, 35.7991) -> (121.2989, 35.7991) projected
  point P0 (0, 0)
  point P1 (188.2989, 35.7991)
  point P2 (184.7989, 37.7991)
  point P3 (169.7989, 37.7991)
  point P4 (109.7989, 37.7991)
  point P5 (94.7989, 37.7991)
  dimension "d147" = 4
  dimension "d148" = 30
  dimension "d149" = 15
  dimension "d150" = 4
  dimension "d151" = 60
  dimension "d152" = 15
extrude "Выдавливание12" add sketch "Эскиз12" against normal blind 6
sketch "Эскиз13" plane through (6, 0, 0) normal (1, 0, 0) x (0, 0, -1)
  circle A0 centre (44.2011, -26.7009) radius 1.5
  circle A1 centre (44.2011, -53.7009) radius 1.5
  line L0 (41.2011, -34.2009) -> (47.2011, -34.2009) projected
  line L1 (47.2011, -34.2009) -> (47.2011, -19.2009) projected
  line L2 (47.2011, -49.2009) -> (41.2011, -49.2009) projected
  line L3 (47.2011, -58.2009) -> (47.2011, -49.2009) projected
  circle A2 centre (-179.7989, -12.2009) radius 1.5
  line L4 (-152.7989, -64.2009) -> (-122.7989, -64.2009) projected
  line L5 (-176.7989, -28.2009) -> (-176.7989, -48.2009) projected
  point P0 (0, 0)
  point P1 (44.2011, -34.2009)
  point P2 (44.2011, -49.2009)
  dimension "d160" = 3
  dimension "d161" = 3
  dimension "d162" = 7.5
  dimension "d163" = 3
  dimension "d164" = 4.5
  dimension "d165" = 3
  dimension "d168" = 3
  dimension "d169" = 52
  dimension "d170" = 3
extrude "Выдавливание13" cut sketch "Эскиз13" against normal blind 6
sketch "Эскиз14" plane through (6, 0, 0) normal (1, 0, 0) x (0, 0, -1)
  line L0 (-199.1415, 35.7991) -> (-199.1415, -19.3906)
  line L1 (-82.7989, 35.7991) -> (-121.2989, 35.7991) projected
  line L2 (-214.7989, 35.7991) -> (-214.7989, -58.2009) projected
  circle A0 centre (-199.7989, -32.2009) radius 7 projected
  line L3 (-214.7989, -58.2009) -> (-152.7989, -58.2009) projected
  line L4 (-199.1415, -19.3906) -> (-214.7989, -32.2009)
  line L5 (-197.5588, -58.2009) -> (-214.7989, -32.2009)
  line L6 (-182.7989, 10.2991) -> (-186.7989, 10.2991)
  line L7 (-186.7989, 10.2991) -> (-186.7989, 1.2991)
  line L8 (-186.7989, 1.2991) -> (-182.7989, 1.2991)
  line L9 (-182.7989, 1.2991) -> (-182.7989, 10.2991)
  line L10 (-182.7989, 5.7991) -> (-182.7989, 25.7991) projected
  line L11 (-192.7989, 15.7991) -> (-184.7989, 15.7991)
  line L12 (-184.7989, 15.7991) -> (-184.7989, -4.2009)
  line L13 (-184.7989, -4.2009) -> (-192.7989, -4.2009)
  line L14 (-192.7989, -4.2009) -> (-192.7989, 15.7991)
  point P0 (0, 0)
  point P1 (-191.2989, 35.7991)
  point P2 (-184.7989, 10.2991)
  point P3 (-188.7989, -4.2009)
  point P4 (-184.7989, 10.2991)
  point P5 (-184.7989, 1.2991)
  dimension "d171" = 25.5
  dimension "d172" = 9
  dimension "d173" = 4
  dimension "d174" = 5.5
  dimension "d175" = 20
  dimension "d176" = 8
  dimension "d177" = 2
extrude "Выдавливание14" [suppressed]
sketch "Эскиз10" plane through (6, 0, 0) normal (1, 0, 0) x (0, 0, -1)
  circle A0 centre (-170.61, 18.2991) radius 1.5
  circle A1 centre (-139.61, 18.2991) radius 1.5
  circle A2 centre (-139.61, -12.7009) radius 1.5
  circle A3 centre (-170.61, -12.7009) radius 1.5
  line L0 (-176.7989, 25.7991) -> (-176.7989, 5.7991) projected
  line L1 (-144.2989, 35.7991) -> (-188.2989, 35.7991) projected
  point P0 (0, 0)
  dimension "d119" = 3
  dimension "d120" = 3
  dimension "d121" = 3
  dimension "d122" = 3
  dimension "d123" = 5.5
  dimension "d124" = 17.5
  dimension "d125" = 17.5
  dimension "d126" = 31
  dimension "d127" = 0
  dimension "d128" = 31
  dimension "d129" = 0
  dimension "d130" = 31
equation "\"d28\" = d27"
equation "\"d29\" = d27"
equation "\"d30\" = d27"
properties part number "бок"
